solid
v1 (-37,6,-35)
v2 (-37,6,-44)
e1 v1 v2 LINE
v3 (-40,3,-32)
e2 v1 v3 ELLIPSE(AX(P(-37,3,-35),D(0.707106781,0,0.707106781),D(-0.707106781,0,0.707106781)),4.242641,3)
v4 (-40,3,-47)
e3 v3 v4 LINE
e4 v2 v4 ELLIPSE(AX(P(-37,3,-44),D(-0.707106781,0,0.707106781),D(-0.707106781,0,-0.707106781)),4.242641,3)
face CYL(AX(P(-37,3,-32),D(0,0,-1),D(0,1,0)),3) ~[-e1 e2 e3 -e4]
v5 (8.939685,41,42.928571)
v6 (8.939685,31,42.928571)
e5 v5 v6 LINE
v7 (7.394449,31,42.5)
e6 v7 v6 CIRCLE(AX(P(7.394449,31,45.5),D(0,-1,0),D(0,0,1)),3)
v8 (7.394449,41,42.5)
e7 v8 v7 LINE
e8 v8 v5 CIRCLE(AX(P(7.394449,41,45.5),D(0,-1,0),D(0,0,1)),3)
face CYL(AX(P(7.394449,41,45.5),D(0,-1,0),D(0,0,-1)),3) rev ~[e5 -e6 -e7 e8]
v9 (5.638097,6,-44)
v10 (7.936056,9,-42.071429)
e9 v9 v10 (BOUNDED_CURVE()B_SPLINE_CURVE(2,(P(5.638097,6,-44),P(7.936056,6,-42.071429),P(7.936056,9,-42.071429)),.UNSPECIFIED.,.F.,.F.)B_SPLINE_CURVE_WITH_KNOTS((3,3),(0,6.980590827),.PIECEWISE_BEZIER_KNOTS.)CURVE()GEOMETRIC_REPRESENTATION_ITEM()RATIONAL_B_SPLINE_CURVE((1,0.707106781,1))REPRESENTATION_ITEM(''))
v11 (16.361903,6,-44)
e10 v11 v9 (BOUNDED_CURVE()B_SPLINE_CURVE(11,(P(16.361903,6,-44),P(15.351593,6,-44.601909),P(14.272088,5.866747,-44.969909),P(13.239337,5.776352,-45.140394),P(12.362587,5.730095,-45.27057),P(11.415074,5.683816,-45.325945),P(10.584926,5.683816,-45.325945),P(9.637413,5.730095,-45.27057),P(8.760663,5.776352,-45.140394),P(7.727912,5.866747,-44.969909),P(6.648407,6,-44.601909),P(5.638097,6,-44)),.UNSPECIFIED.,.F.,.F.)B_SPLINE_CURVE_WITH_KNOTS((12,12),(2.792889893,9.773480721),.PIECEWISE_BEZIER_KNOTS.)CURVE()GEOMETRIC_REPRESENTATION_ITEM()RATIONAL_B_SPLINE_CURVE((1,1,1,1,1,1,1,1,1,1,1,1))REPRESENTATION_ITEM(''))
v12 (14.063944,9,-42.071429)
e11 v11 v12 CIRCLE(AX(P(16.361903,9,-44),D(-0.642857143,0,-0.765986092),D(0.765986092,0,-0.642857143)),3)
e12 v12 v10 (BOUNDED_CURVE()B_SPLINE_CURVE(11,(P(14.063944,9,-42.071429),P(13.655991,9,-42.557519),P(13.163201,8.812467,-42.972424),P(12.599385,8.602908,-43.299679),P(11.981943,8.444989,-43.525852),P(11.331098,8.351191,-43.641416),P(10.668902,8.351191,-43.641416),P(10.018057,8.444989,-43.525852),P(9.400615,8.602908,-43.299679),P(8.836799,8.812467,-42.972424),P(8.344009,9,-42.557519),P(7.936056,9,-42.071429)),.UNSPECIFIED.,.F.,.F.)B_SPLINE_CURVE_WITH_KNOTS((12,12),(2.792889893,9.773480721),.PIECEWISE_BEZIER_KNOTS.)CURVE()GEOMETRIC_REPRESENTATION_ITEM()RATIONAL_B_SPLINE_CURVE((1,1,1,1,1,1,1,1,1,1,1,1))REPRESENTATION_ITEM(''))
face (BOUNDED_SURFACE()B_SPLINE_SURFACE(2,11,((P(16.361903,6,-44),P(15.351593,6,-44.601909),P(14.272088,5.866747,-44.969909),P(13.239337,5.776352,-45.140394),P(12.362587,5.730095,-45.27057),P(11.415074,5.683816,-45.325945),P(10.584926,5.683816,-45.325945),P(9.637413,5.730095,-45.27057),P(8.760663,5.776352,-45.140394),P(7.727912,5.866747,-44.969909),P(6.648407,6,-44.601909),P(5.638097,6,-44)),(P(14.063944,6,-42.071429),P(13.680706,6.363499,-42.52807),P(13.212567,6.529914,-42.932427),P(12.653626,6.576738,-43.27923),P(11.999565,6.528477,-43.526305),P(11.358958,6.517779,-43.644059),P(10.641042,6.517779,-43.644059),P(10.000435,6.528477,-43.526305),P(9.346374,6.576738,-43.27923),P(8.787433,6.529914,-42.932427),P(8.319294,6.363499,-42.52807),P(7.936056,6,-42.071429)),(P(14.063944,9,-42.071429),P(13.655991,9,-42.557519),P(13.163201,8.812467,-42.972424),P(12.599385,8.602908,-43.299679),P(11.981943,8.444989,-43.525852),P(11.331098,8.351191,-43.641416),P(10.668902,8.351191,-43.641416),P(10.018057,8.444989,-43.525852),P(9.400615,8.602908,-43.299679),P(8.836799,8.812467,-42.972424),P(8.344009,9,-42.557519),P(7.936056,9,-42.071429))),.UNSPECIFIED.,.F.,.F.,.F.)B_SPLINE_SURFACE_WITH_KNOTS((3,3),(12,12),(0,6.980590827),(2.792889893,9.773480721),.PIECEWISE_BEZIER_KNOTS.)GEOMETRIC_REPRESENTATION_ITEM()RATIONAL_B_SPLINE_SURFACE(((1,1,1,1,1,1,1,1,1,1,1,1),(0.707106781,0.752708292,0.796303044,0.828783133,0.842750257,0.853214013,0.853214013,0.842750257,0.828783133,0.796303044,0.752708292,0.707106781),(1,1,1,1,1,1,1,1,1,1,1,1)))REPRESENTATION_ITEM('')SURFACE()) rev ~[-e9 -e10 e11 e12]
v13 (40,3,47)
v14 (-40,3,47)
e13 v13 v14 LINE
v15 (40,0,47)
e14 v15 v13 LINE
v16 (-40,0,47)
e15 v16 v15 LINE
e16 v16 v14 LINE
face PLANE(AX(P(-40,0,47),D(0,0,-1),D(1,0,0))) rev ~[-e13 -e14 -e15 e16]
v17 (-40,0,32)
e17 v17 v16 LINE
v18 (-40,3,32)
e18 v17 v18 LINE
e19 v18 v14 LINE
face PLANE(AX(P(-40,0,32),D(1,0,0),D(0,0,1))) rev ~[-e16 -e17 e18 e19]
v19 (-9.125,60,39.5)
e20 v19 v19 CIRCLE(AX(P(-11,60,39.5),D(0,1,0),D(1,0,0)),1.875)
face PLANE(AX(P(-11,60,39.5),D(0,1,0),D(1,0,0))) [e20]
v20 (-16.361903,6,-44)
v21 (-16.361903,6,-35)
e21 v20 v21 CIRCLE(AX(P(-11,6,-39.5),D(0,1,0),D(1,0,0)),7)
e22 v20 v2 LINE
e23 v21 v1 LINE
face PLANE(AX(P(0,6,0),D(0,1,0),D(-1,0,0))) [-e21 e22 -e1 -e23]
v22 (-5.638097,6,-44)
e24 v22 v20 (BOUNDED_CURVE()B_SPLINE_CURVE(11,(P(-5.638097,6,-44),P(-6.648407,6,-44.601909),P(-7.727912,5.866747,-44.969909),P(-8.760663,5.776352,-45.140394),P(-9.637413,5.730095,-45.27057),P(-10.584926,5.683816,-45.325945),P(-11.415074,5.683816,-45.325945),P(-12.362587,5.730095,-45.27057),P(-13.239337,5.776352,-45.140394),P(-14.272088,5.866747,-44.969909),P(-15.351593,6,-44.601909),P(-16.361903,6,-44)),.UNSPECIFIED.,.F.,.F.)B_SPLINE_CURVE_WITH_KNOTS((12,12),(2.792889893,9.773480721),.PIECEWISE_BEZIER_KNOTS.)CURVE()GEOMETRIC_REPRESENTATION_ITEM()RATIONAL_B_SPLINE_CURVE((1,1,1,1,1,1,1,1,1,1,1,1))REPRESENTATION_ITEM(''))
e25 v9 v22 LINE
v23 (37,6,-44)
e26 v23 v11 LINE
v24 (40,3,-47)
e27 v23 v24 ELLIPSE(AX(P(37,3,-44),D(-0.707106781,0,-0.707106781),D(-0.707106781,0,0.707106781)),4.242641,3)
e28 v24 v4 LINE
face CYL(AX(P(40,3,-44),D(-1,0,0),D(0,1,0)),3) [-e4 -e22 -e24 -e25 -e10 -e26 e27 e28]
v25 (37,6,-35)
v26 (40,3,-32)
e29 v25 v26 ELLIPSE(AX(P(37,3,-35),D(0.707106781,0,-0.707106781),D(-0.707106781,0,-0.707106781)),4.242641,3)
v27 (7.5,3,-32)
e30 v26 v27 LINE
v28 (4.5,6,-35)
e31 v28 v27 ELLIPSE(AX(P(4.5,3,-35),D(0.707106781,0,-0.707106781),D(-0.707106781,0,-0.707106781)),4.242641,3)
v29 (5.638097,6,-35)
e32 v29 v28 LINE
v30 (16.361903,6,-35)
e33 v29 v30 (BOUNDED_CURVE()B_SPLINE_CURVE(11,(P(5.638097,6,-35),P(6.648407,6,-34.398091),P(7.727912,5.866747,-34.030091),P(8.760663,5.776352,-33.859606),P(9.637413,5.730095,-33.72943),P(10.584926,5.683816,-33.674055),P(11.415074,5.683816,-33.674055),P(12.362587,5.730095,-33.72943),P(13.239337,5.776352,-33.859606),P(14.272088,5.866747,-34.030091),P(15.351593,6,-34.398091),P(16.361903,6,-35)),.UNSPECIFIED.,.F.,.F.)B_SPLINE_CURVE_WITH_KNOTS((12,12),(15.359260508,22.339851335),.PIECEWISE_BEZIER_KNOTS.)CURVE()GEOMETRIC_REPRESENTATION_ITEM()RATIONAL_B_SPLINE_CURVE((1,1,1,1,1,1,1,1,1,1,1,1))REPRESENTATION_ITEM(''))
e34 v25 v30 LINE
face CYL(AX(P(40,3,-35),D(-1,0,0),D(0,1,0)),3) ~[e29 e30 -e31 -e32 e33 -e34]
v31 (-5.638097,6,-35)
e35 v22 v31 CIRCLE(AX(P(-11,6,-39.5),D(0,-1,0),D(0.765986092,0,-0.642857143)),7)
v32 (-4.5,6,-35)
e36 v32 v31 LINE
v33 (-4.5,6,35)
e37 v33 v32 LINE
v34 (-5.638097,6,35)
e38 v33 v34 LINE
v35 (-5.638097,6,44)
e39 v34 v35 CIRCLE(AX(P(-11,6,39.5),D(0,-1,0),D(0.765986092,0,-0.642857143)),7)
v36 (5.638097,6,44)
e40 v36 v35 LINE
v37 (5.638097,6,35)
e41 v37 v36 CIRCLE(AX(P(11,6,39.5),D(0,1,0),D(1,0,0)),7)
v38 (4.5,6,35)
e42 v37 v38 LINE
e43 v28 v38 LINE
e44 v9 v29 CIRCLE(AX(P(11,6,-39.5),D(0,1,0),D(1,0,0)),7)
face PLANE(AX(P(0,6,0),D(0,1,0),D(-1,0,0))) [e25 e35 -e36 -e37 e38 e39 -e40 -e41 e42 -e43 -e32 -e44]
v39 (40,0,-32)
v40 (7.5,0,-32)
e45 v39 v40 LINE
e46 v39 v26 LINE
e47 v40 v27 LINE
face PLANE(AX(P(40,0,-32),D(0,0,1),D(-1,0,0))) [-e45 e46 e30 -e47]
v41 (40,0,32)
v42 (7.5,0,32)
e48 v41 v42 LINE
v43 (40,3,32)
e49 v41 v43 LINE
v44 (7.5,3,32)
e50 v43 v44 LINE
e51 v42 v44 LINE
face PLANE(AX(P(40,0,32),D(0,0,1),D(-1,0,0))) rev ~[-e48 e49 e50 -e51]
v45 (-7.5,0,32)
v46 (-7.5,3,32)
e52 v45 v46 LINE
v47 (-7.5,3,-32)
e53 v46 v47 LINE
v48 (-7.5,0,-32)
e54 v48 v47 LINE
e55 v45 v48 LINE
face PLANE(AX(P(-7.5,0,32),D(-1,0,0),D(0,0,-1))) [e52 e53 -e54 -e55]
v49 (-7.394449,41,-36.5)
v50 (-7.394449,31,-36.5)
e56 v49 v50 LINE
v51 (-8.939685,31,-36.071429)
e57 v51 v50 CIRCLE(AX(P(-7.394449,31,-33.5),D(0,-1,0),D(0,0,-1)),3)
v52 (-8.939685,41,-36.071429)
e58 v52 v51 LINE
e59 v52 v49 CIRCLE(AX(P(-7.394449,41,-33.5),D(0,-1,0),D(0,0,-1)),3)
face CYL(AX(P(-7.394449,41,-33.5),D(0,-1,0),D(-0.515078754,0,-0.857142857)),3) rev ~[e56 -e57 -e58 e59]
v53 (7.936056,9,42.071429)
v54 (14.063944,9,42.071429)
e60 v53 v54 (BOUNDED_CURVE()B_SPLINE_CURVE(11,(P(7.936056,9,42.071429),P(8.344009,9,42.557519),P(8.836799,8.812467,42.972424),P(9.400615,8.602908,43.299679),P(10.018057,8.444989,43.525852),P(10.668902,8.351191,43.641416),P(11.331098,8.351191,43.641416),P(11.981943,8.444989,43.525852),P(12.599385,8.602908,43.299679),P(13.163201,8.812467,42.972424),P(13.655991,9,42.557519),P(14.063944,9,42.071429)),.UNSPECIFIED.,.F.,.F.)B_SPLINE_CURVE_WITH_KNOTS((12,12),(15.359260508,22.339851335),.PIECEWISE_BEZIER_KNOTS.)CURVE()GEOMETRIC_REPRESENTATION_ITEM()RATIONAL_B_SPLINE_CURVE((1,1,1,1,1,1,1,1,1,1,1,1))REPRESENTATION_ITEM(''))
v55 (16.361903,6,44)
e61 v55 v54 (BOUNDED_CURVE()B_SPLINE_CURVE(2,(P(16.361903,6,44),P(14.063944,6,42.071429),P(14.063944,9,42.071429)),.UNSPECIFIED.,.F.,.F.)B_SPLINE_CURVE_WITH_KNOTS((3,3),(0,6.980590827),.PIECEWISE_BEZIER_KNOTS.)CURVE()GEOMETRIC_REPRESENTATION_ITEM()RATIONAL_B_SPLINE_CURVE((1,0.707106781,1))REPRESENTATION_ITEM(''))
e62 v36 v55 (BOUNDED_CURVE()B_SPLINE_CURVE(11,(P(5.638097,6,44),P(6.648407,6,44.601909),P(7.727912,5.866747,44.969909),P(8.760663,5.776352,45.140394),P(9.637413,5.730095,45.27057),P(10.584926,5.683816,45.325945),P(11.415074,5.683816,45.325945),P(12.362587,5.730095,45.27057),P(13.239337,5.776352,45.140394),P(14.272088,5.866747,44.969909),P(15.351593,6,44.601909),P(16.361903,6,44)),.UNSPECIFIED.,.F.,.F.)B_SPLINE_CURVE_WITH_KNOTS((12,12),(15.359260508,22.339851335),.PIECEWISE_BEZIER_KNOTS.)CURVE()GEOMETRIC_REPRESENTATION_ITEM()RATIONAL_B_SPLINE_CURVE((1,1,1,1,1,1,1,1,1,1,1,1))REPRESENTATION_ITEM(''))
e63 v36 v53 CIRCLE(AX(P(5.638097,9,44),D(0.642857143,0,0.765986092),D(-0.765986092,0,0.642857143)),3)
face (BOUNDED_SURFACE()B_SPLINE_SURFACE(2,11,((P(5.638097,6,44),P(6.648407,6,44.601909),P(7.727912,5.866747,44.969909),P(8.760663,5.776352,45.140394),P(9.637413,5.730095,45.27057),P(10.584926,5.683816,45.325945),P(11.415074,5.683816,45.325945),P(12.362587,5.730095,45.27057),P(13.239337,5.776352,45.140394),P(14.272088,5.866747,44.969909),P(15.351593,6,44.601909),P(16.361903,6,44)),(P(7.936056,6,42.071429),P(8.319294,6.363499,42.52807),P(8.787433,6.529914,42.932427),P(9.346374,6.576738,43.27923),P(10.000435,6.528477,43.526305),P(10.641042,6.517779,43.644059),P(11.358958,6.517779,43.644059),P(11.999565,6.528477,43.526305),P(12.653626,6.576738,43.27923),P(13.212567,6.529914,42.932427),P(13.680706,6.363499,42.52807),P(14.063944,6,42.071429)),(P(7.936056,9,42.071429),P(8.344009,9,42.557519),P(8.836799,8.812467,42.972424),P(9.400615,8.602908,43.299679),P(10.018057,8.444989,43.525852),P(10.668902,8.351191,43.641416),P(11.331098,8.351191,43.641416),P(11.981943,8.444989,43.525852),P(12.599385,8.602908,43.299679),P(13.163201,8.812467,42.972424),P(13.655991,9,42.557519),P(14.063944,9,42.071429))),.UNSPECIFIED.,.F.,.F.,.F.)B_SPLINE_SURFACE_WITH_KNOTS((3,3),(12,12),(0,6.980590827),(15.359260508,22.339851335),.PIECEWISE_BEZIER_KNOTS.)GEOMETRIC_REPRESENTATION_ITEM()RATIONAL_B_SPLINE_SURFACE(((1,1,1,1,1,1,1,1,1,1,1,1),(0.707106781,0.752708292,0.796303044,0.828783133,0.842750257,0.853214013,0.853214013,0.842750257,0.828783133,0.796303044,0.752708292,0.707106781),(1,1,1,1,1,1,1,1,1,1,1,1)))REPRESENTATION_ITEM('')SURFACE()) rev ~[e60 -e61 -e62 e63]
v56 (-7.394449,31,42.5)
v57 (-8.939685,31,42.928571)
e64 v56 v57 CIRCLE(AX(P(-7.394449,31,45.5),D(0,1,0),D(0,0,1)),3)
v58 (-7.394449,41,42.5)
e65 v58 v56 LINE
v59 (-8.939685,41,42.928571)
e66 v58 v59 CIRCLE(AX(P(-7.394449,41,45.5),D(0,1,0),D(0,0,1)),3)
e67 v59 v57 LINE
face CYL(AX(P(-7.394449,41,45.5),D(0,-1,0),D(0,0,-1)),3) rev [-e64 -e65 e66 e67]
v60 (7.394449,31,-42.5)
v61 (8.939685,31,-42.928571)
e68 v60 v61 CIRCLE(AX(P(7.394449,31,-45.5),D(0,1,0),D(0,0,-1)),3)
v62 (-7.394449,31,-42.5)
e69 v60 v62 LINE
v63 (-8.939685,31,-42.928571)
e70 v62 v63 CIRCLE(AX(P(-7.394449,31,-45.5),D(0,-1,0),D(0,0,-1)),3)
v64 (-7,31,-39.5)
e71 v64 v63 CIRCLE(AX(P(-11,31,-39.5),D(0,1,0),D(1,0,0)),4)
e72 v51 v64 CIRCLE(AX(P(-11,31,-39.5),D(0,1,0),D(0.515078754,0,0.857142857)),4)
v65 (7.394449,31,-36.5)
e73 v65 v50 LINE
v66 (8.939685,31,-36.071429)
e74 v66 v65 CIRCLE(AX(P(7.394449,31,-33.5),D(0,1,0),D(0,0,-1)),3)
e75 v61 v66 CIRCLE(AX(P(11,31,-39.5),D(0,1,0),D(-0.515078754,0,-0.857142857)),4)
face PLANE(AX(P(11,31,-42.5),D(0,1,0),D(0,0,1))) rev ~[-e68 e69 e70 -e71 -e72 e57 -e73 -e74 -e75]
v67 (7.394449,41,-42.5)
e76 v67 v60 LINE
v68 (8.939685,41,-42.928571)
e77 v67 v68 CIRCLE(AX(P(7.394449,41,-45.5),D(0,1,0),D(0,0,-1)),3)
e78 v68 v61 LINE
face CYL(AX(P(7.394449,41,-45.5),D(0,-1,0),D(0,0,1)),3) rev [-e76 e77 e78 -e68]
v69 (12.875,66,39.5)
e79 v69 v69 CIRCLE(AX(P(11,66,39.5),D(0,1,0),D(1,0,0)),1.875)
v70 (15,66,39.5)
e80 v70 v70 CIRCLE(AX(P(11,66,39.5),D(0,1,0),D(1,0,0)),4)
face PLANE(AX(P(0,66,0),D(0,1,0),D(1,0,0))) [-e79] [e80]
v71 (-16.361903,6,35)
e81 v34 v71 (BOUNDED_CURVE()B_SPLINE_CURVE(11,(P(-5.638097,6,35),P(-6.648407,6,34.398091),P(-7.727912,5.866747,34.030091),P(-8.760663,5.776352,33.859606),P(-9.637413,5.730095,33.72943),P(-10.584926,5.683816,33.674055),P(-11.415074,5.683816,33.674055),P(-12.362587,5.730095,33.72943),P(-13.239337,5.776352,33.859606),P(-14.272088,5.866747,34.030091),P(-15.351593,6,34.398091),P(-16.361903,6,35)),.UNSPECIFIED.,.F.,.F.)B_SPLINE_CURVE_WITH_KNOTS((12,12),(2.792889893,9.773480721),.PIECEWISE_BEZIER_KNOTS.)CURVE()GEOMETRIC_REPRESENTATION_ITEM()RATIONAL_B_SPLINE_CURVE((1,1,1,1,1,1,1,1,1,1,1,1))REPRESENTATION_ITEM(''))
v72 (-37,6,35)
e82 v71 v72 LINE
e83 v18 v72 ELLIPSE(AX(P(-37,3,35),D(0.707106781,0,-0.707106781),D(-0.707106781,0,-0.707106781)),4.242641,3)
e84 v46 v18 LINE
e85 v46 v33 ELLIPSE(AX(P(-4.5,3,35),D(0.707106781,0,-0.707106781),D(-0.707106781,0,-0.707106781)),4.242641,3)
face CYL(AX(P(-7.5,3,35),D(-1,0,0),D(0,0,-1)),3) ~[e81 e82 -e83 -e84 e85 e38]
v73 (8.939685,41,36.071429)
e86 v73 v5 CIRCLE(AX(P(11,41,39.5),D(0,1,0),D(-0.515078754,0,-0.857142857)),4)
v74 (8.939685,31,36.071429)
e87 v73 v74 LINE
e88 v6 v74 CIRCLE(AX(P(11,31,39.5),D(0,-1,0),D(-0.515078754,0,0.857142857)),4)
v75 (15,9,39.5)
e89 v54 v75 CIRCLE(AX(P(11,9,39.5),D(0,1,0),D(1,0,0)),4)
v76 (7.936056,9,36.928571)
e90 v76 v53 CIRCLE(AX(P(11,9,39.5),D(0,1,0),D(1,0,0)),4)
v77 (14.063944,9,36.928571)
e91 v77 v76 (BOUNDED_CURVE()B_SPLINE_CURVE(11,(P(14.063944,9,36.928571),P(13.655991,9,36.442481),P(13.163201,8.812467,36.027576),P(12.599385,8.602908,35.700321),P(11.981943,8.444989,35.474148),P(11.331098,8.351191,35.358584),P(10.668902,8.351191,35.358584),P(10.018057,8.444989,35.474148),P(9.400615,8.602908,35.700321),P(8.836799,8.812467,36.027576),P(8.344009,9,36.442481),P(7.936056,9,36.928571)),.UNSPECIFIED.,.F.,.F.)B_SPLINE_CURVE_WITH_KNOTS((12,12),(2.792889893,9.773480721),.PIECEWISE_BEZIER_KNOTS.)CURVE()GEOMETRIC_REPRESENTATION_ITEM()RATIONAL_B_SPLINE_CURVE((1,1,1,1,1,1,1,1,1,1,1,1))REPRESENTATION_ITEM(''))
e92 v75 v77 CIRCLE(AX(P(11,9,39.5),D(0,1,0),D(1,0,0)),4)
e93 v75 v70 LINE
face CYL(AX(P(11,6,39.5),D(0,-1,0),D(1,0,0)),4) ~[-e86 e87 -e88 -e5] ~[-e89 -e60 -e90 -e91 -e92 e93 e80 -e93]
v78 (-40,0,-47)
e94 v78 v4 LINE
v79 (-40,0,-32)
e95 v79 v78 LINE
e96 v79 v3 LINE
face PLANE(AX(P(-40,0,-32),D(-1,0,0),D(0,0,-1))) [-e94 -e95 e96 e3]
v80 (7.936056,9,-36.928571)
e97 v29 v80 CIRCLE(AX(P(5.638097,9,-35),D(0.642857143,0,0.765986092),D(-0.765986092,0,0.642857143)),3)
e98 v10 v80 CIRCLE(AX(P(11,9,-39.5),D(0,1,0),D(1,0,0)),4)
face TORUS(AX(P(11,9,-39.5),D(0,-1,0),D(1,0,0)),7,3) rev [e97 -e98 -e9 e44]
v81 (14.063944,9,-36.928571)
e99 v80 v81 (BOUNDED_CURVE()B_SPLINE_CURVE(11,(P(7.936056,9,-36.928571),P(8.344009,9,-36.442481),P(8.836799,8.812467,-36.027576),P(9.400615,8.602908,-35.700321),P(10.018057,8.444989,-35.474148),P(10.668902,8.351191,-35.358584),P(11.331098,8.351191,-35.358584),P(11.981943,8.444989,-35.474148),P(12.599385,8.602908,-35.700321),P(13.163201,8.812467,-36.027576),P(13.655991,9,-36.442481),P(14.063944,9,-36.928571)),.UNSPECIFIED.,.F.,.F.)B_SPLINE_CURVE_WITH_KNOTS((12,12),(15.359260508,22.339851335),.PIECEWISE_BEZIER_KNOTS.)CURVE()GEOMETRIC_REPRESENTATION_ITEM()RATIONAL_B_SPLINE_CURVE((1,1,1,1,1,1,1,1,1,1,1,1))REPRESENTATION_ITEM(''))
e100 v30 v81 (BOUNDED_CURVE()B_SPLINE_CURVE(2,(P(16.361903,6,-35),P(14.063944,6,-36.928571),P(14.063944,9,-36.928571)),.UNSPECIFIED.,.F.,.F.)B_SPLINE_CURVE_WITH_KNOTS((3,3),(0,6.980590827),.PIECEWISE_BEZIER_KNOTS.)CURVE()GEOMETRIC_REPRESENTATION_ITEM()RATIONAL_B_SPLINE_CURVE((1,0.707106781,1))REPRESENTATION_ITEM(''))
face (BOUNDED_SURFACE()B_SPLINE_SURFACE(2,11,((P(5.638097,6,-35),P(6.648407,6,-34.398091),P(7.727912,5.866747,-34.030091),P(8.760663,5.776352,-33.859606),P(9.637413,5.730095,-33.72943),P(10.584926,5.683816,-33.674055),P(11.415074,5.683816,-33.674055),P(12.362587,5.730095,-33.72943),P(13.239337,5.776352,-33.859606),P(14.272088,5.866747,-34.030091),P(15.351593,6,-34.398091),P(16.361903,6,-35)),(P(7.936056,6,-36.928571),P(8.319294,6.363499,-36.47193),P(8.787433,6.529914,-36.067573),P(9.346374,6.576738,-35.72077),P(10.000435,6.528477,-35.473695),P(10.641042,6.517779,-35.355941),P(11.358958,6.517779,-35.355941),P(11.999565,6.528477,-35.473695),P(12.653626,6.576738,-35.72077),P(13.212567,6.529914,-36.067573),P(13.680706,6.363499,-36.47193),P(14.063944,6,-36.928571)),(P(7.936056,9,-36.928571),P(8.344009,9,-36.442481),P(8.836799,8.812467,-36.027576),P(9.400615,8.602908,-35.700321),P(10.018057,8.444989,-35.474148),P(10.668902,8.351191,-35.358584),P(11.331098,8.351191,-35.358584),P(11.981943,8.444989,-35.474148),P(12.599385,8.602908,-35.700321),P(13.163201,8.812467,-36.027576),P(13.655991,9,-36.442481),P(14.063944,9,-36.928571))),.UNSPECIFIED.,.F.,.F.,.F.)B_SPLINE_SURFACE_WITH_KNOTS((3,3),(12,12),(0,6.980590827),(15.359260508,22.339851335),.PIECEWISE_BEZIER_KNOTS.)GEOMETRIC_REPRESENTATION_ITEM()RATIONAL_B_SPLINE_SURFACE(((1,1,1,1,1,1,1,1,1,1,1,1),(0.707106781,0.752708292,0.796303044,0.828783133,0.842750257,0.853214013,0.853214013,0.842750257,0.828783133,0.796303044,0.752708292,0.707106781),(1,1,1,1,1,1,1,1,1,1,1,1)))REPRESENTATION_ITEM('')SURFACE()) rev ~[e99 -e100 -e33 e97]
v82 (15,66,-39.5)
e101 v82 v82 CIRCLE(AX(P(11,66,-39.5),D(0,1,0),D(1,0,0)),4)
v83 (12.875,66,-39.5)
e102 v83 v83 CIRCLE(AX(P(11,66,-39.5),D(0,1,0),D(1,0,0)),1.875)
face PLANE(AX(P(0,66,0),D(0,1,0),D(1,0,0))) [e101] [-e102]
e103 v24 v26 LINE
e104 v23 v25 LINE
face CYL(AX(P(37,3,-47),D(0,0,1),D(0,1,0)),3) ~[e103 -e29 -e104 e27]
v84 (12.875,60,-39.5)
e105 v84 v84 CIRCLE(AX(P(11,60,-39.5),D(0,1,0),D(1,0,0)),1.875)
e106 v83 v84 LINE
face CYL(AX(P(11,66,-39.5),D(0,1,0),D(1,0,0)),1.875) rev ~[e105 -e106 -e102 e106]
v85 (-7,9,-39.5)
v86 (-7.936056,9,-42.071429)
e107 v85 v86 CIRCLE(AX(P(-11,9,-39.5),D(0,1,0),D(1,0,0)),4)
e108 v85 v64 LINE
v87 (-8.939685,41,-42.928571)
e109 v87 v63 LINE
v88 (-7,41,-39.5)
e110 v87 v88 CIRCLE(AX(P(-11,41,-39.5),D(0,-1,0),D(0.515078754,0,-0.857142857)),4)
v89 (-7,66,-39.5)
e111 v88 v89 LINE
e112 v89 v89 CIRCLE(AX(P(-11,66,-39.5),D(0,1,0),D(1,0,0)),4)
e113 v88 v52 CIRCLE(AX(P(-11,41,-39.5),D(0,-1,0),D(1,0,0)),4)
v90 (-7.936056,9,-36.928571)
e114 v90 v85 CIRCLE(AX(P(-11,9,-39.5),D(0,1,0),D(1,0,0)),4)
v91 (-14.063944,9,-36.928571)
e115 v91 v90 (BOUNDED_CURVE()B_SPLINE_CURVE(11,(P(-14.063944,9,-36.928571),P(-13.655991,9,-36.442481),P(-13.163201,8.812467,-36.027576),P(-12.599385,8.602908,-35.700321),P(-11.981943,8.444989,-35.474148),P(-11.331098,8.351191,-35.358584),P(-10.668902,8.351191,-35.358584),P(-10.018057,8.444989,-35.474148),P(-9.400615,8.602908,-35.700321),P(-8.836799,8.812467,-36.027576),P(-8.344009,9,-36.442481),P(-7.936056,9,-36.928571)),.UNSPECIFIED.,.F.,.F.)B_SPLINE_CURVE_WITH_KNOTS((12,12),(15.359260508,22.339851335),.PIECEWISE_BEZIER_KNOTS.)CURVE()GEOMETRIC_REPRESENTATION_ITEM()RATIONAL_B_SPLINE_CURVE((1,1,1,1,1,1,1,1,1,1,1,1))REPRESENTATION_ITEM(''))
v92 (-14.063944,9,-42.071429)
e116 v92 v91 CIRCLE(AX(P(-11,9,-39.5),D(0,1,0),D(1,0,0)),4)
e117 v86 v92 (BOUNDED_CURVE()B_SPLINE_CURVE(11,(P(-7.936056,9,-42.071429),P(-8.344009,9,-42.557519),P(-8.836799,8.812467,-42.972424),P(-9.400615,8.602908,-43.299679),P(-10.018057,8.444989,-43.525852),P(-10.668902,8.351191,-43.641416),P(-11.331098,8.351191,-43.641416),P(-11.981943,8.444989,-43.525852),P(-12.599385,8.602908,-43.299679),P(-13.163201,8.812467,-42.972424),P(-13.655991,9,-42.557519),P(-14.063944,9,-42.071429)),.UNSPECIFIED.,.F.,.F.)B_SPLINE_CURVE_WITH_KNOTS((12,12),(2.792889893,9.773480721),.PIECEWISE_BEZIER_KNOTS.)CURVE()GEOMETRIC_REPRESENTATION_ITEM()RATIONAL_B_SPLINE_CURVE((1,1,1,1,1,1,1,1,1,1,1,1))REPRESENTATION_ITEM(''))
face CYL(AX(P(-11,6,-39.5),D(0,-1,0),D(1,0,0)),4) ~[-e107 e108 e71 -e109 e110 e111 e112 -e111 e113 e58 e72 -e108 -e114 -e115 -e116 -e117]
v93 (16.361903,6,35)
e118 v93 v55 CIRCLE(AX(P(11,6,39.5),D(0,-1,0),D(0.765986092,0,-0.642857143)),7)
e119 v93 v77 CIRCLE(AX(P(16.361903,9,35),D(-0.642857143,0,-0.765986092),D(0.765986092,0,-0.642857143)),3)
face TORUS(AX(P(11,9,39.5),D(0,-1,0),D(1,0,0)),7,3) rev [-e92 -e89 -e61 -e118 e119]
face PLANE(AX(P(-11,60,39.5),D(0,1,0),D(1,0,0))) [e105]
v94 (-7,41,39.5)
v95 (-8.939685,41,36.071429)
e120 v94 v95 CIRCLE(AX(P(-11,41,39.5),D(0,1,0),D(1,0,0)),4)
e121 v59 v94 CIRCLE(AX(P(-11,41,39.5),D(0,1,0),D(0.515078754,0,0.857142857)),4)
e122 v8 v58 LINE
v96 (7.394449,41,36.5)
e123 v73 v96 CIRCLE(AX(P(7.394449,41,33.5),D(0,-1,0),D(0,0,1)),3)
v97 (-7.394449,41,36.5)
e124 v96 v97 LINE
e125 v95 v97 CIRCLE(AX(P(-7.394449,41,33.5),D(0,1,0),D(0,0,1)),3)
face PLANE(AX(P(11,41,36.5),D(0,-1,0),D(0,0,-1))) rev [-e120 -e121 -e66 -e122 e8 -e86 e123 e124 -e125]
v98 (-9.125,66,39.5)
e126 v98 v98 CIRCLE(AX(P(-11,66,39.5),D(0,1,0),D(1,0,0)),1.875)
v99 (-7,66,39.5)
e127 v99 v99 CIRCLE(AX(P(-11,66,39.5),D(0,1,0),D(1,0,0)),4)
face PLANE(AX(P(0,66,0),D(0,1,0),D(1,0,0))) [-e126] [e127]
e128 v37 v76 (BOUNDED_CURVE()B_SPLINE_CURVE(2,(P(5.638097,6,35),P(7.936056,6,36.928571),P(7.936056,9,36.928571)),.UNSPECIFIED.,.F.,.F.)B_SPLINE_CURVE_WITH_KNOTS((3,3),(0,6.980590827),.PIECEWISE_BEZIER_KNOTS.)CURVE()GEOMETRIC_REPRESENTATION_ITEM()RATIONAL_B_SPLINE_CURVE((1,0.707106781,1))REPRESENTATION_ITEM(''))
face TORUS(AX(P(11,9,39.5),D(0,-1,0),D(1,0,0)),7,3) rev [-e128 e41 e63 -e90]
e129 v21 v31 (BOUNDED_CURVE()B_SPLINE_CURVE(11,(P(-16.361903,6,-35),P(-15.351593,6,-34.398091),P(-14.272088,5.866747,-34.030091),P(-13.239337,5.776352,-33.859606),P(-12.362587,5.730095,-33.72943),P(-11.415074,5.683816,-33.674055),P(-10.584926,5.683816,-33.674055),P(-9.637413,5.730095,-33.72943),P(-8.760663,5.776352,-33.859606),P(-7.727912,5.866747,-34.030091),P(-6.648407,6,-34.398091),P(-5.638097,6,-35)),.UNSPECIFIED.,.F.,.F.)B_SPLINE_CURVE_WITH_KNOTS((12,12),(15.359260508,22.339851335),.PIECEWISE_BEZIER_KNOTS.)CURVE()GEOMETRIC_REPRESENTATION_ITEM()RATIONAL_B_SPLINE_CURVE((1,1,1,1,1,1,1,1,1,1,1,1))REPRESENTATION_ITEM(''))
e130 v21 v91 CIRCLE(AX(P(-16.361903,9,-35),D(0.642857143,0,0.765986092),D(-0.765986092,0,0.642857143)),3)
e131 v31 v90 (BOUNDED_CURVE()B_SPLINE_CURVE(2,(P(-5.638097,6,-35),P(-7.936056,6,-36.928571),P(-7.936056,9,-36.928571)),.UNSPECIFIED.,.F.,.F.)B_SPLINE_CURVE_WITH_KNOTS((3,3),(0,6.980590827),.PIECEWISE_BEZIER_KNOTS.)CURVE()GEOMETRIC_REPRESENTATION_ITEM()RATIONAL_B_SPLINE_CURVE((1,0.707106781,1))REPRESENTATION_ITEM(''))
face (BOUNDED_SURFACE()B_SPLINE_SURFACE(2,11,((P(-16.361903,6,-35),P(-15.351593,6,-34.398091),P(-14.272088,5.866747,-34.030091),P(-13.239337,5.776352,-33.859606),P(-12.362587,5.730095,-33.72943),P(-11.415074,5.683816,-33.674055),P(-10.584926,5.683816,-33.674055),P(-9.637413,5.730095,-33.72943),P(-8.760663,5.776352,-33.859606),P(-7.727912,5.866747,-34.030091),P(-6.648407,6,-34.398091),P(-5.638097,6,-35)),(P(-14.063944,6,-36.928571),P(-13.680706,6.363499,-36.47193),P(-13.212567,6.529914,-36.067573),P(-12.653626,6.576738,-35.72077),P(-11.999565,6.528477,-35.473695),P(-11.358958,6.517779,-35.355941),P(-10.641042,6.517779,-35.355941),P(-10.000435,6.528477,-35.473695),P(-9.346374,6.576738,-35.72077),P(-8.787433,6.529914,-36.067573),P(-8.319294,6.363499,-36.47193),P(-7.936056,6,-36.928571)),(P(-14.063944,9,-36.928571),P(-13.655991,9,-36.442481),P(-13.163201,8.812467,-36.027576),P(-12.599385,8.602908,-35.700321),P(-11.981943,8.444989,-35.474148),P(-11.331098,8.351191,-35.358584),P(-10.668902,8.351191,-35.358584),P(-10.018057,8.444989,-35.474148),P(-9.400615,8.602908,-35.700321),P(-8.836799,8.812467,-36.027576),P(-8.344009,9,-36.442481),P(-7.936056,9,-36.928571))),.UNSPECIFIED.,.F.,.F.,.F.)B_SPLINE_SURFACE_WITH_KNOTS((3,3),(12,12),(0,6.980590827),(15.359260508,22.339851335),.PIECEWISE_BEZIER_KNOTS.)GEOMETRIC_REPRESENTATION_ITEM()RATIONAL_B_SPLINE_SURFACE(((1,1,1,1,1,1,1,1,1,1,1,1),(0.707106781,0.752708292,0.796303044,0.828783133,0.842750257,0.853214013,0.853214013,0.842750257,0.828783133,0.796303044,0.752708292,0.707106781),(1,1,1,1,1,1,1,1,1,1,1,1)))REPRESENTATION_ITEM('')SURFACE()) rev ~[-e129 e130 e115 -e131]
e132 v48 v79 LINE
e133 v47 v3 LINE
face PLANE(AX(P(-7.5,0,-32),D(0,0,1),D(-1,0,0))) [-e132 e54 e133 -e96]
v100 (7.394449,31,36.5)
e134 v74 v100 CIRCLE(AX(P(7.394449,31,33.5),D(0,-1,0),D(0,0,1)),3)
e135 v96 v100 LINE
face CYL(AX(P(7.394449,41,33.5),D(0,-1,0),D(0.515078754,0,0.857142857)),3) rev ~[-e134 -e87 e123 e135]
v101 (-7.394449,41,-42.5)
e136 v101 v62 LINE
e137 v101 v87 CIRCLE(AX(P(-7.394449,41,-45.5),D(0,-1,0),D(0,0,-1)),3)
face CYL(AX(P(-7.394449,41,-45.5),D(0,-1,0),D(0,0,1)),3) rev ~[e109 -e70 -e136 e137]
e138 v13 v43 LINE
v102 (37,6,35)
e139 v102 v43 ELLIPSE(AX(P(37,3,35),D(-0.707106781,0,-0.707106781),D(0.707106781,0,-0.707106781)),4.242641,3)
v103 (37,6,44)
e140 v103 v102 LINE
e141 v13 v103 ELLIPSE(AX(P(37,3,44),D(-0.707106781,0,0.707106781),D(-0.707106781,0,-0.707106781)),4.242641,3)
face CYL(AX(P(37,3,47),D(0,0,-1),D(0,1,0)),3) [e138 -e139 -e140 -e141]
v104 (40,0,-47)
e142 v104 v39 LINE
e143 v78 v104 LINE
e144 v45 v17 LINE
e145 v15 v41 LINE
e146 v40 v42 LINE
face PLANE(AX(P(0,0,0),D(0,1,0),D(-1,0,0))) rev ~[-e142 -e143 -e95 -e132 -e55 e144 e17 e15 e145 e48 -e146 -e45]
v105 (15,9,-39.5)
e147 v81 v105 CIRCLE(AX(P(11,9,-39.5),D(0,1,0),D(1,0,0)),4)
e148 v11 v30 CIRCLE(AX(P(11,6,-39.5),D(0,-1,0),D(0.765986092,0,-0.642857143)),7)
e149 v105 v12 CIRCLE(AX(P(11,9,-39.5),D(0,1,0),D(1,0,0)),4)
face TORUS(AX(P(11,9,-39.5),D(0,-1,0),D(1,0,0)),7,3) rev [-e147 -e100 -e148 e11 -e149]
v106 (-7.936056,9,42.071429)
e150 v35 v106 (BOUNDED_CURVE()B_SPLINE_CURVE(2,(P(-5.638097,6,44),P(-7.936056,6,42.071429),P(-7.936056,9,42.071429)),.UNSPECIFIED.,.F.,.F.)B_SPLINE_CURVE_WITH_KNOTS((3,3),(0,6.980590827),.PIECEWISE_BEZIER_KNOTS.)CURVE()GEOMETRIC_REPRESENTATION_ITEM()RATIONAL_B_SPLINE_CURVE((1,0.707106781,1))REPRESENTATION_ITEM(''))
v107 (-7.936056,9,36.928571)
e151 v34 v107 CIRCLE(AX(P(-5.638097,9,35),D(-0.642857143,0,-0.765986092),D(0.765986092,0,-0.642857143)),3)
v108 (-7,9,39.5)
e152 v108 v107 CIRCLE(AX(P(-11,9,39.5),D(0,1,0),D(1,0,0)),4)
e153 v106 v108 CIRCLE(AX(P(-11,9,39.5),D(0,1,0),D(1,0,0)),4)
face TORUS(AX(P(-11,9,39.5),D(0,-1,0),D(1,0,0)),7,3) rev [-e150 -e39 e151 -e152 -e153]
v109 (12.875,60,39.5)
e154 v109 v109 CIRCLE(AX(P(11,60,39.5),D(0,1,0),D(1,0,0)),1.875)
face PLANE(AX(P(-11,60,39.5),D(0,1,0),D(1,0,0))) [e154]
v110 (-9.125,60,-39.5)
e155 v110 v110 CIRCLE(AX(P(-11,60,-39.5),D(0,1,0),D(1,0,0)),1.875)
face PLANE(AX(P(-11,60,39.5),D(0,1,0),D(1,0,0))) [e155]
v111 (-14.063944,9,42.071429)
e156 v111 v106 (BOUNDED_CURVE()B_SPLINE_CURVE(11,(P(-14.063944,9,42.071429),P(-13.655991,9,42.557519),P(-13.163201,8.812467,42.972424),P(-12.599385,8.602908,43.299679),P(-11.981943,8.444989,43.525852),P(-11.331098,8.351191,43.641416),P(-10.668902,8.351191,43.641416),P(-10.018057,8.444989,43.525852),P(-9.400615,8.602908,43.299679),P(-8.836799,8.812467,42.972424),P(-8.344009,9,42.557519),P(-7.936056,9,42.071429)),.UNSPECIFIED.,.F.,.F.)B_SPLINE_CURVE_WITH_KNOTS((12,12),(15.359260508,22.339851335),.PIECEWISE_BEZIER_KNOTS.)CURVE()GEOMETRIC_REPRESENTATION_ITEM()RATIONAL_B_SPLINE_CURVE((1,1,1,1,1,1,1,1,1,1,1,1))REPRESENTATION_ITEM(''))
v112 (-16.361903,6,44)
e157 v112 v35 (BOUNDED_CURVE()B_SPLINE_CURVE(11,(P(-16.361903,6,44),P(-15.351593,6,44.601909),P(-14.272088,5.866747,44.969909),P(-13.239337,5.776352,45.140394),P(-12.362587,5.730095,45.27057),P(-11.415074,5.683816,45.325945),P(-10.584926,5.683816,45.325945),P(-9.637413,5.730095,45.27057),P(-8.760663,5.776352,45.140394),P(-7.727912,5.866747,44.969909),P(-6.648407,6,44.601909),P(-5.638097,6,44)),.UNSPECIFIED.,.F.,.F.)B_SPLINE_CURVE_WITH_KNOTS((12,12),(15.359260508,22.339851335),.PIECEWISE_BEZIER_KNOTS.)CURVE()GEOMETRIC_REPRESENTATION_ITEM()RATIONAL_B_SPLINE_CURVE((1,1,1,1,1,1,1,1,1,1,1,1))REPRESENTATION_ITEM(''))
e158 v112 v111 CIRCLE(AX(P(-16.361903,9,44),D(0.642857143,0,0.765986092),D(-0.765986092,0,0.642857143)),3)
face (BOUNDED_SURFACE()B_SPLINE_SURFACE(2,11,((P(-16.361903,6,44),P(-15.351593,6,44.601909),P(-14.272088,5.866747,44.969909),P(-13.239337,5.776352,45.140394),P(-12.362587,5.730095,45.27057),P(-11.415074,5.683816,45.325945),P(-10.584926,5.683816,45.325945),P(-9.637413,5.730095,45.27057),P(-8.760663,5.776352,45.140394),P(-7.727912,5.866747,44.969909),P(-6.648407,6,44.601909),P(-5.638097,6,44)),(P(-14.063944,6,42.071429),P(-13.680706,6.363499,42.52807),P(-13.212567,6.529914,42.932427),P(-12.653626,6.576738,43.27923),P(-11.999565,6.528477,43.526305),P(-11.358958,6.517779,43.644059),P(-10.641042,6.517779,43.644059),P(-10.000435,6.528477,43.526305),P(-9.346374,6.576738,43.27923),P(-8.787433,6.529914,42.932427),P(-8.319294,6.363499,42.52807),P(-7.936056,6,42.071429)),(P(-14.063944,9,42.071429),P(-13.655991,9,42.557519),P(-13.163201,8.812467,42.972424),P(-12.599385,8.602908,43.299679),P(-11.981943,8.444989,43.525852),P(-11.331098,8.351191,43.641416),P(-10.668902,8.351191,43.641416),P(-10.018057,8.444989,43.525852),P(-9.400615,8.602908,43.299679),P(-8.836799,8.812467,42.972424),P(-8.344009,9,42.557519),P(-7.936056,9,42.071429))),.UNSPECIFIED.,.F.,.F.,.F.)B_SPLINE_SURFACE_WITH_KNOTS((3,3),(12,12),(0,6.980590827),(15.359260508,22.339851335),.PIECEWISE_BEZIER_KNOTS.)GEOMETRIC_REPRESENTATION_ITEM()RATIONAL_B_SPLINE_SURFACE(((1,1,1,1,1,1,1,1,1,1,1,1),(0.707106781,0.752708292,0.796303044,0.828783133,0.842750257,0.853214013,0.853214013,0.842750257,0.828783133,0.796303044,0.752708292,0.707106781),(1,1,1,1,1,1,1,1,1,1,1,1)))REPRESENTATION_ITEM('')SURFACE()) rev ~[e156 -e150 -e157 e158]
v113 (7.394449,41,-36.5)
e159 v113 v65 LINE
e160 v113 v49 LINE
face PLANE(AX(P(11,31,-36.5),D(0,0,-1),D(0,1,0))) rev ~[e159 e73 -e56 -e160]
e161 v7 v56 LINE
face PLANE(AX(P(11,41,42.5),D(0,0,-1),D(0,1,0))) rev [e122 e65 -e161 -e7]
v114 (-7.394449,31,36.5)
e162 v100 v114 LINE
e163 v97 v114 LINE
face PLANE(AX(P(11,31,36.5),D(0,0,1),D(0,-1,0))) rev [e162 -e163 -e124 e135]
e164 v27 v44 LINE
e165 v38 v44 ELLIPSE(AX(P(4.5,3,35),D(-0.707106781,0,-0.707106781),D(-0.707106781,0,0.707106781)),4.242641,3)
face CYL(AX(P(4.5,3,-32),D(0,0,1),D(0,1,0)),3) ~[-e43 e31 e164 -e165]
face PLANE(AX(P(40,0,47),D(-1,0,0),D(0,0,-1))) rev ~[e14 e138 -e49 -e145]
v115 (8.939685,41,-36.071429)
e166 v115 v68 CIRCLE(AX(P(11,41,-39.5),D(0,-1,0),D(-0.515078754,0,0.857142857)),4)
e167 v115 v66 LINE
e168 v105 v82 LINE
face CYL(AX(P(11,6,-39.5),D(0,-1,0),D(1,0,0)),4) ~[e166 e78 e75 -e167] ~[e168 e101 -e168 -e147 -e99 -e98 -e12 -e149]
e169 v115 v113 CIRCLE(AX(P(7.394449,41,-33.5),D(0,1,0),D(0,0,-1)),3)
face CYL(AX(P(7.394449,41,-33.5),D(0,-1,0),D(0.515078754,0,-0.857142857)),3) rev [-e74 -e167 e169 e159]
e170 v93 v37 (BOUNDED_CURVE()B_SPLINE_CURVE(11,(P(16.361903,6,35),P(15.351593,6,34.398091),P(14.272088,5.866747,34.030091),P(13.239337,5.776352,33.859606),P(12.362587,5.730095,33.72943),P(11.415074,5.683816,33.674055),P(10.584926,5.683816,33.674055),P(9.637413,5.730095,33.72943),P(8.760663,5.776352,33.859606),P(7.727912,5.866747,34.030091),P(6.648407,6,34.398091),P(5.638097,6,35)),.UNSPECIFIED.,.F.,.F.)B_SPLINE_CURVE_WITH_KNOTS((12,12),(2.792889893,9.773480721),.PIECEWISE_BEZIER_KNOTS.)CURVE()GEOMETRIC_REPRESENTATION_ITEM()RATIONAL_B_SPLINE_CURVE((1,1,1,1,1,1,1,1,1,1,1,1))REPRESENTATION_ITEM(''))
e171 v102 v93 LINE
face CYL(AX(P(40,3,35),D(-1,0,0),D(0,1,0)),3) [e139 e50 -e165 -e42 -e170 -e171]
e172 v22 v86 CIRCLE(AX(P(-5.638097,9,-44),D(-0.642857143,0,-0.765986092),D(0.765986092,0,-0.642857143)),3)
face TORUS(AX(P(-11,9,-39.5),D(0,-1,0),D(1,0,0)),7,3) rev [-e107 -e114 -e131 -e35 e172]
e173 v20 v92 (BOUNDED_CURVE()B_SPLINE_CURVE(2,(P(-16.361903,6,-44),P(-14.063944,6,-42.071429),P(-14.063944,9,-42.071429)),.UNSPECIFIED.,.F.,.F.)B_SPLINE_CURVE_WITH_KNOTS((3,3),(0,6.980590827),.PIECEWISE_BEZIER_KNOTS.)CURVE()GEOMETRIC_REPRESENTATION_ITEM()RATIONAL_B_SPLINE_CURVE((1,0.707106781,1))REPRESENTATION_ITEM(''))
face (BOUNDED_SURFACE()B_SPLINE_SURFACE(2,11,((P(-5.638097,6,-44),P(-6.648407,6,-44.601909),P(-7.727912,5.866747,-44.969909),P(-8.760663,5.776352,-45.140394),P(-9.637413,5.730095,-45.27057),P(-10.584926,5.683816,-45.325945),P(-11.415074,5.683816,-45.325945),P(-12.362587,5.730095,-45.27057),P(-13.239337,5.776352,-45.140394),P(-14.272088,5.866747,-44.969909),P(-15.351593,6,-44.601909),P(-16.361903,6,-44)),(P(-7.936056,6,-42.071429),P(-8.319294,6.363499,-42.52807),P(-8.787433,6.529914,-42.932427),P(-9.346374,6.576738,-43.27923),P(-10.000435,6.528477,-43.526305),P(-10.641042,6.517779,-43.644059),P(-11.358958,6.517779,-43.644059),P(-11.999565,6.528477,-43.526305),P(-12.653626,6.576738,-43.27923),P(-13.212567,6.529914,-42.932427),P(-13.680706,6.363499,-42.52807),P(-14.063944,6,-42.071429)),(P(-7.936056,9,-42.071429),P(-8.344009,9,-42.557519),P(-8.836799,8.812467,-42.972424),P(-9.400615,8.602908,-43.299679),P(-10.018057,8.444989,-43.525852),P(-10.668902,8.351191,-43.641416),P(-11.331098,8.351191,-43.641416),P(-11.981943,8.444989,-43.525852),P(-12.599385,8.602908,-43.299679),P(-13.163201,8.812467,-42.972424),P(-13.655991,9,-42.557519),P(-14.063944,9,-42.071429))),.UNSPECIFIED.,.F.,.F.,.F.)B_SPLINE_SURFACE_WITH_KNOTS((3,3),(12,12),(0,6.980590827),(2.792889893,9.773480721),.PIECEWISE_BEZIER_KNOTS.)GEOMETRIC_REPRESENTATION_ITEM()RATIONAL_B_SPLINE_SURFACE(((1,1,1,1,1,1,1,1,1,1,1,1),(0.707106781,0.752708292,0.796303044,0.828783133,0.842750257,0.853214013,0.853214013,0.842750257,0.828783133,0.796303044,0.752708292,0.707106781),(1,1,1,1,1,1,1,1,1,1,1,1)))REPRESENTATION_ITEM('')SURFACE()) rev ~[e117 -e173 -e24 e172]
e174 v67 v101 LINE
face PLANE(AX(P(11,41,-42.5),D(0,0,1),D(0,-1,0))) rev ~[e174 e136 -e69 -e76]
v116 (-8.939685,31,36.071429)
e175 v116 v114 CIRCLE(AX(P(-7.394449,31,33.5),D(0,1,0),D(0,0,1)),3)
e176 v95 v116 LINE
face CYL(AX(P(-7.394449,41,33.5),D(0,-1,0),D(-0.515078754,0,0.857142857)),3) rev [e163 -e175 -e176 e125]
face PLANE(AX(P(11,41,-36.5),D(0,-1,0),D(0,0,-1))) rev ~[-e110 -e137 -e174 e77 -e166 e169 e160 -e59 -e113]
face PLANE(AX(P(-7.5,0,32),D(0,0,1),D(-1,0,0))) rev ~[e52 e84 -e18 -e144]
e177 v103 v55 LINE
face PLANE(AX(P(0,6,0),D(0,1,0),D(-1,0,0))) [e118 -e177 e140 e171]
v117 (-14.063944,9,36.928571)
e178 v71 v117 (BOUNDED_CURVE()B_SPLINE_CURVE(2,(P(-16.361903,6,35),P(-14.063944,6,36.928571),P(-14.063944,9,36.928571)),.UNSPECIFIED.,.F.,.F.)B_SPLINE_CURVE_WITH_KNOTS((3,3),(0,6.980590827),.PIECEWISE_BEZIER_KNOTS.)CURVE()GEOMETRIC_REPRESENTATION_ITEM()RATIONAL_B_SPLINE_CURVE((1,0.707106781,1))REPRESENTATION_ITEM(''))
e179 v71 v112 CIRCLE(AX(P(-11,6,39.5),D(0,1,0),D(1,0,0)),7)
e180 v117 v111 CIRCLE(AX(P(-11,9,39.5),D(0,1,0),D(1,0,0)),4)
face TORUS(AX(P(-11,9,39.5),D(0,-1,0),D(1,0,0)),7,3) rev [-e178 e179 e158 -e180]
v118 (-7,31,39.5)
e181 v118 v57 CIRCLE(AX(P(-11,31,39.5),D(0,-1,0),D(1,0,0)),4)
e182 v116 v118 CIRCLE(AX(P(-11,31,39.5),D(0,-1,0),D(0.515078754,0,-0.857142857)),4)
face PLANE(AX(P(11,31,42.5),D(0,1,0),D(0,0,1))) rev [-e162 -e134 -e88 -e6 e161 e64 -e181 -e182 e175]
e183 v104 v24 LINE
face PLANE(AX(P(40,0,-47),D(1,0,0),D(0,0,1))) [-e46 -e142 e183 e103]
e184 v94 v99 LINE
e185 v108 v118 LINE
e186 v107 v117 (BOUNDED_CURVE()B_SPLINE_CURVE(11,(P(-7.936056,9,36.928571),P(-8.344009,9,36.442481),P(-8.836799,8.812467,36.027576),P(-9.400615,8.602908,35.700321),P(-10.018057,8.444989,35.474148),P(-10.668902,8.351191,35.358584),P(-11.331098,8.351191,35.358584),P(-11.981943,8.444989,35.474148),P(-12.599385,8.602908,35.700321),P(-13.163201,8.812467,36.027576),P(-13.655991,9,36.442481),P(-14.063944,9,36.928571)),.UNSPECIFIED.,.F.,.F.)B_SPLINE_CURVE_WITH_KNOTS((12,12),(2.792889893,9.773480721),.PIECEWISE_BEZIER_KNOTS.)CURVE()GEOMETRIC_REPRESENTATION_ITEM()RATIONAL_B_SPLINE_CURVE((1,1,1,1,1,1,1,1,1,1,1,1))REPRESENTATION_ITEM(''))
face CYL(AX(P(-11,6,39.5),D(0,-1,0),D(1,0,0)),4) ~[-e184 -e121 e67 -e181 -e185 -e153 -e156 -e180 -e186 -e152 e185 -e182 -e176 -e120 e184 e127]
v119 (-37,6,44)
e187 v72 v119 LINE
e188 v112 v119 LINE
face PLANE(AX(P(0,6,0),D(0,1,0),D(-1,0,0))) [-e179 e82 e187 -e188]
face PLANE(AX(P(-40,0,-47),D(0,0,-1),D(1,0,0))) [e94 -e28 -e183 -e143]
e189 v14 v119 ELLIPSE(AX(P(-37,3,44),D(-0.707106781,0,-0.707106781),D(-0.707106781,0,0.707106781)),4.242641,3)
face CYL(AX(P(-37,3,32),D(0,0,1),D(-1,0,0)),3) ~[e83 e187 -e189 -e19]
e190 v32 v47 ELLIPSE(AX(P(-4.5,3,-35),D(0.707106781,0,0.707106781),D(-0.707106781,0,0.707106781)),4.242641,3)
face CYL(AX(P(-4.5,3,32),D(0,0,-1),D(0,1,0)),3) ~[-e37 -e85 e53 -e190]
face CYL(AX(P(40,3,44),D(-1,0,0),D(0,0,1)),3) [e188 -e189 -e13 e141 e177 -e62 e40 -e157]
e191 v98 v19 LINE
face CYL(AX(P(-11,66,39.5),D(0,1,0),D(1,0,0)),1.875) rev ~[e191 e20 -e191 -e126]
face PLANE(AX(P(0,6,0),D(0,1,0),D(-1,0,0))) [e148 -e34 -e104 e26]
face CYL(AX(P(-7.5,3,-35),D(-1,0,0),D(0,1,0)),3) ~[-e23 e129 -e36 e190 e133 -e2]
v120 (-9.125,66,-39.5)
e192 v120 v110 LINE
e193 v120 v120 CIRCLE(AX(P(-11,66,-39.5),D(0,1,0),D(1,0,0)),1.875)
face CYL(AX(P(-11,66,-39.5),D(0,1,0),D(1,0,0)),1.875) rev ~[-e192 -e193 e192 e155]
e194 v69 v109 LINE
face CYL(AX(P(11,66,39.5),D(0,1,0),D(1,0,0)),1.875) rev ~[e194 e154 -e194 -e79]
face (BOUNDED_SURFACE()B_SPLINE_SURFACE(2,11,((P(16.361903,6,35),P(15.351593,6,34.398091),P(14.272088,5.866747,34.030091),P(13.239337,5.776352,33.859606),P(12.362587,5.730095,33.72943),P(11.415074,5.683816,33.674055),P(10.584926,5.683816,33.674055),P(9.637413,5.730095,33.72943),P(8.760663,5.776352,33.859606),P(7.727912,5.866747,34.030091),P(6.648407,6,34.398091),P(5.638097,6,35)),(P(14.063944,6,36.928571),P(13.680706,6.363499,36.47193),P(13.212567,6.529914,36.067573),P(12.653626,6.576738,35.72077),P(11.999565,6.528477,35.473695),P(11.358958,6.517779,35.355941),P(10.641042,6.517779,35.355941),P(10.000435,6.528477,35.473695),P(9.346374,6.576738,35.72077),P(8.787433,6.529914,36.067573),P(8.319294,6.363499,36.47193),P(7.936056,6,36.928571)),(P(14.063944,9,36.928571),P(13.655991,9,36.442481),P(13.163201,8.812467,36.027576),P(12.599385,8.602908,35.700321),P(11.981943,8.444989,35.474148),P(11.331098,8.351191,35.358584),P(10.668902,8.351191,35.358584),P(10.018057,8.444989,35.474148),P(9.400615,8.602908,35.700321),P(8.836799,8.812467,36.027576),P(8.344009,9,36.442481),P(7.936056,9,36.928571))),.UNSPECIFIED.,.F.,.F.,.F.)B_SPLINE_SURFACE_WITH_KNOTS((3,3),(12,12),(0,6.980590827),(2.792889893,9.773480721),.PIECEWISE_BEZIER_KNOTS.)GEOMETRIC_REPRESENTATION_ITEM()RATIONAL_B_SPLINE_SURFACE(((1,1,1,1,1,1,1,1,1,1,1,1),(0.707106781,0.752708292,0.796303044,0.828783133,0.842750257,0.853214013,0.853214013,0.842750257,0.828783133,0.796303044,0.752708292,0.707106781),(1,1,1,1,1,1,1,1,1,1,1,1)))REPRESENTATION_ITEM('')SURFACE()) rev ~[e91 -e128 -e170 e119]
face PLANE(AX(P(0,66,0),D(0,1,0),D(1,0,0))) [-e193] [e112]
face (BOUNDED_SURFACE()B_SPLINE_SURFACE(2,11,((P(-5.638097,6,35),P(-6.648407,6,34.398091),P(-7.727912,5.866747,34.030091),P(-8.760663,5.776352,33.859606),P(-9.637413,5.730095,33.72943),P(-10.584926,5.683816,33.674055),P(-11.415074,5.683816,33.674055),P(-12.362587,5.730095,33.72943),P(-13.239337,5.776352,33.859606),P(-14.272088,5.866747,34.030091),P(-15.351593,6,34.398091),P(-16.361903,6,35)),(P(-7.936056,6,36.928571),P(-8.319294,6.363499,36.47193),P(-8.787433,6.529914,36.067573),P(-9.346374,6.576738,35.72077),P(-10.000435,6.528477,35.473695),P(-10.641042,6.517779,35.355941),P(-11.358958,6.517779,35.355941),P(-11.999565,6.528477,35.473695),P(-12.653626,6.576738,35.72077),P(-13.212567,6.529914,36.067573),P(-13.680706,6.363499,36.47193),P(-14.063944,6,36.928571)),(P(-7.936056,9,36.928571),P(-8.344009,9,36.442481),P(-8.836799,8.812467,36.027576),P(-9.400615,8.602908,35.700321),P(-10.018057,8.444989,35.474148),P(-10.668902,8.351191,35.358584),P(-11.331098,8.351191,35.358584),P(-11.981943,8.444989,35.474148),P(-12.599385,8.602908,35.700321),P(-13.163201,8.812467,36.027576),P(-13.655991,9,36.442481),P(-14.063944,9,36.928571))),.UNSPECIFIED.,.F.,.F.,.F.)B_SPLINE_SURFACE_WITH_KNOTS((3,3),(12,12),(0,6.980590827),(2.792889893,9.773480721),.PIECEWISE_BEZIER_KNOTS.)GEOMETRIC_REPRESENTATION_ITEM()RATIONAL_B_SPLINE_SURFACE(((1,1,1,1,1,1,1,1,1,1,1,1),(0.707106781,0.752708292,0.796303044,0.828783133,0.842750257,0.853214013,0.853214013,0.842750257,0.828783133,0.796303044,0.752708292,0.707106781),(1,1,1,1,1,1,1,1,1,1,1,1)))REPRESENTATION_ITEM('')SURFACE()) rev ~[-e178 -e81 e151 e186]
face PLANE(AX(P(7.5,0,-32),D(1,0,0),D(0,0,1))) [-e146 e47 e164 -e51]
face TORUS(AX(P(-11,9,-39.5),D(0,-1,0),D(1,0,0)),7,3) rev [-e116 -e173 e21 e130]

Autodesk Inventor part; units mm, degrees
ref_plane "XZ Plane" through (0, 0, 0) normal (0, 1, 0) x (-1, 0, 0)
ref_plane "XY Plane" through (0, 0, 0) normal (0, 0, 1) x (1, 0, 0)
sketch "Sketch1" plane through (0, 0, 0) normal (0, 1, 0) x (-1, 0, 0)
  line L0 (40, 47) -> (-40, 47)
  line L1 (-40, 47) -> (-40, 32)
  line L2 (-40, 32) -> (40, 32)
  line L3 (40, 32) -> (40, 47)
  line L4 (40, 39.5) -> (-40, 39.5) construction
  line L5 (0, -65.8) -> (0, 65.8) projected
  line L6 (75.7321, 0) -> (-79.5679, 0) construction
  line L7 (40, -47) -> (-40, -47)
  line L8 (-40, -47) -> (-40, -32)
  line L9 (-40, -32) -> (40, -32)
  line L10 (40, -32) -> (40, -47)
  line L11 (40, -39.5) -> (-40, -39.5) construction
  line L12 (0, 32) -> (7.5, 32)
  line L13 (7.5, 32) -> (7.5, -32)
  line L14 (0, -32) -> (-7.5, -32)
  line L15 (-7.5, -32) -> (-7.5, 32)
  point P0 (0, 0)
  dimension "d0" = 80
  dimension "d1" = 15
  dimension "d12" = 39.5
  dimension "d13" = 79
  dimension "d14" = 7.5
  dimension "d15" = 7.5
extrude "Extrusion1" add sketch "Sketch1" along normal blind 6
fillet "Fillet1" radius 3 12 edges at (0, 6, 47) (40, 6, 39.5) (-23.75, 6, 32) (23.75, 6, 32) (-40, 6, 39.5) (23.75, 6, -32) (-23.75, 6, -32) (40, 6, -39.5) (0, 6, -47) (-40, 6, -39.5) (7.5, 6, 0) (-7.5, 6, 0)
sketch "Sketch2" plane through (0, 6, 0) normal (0, 1, 0) x (1, 0, 0)
  line L0 (-37, -35) -> (-4.5, -35) projected
  line L1 (-37, -44) -> (-37, -35) projected
  line L2 (37, -44) -> (-37, -44) projected
  line L3 (37, -35) -> (37, -44) projected
  line L4 (-37, -44) -> (-37, -35) construction
  line L5 (-37, -39.5) -> (37, -39.5) construction
  line L6 (37, -35) -> (37, -44) construction
  line L7 (-37, -35) -> (37, -35) construction
  line L8 (0, -35) -> (0, -44) construction
  circle A0 centre (-11, -39.5) radius 4
  circle A1 centre (11, -39.5) radius 4
  line L9 (0, 65.8) -> (0, -65.8) construction
  line L10 (4.5, -35) -> (37, -35) projected
  line L11 (37, 35) -> (4.5, 35) projected
  line L12 (37, 44) -> (37, 35) projected
  line L13 (-37, 44) -> (37, 44) projected
  line L14 (-37, 35) -> (-37, 44) projected
  line L15 (-4.5, 35) -> (-37, 35) projected
  line L16 (-4.5, -35) -> (-4.5, 35) projected
  line L17 (4.5, 35) -> (4.5, -35) projected
  line L18 (-56, 0) -> (56, 0) projected
  circle A2 centre (-11, 39.5) radius 4
  circle A3 centre (11, 39.5) radius 4
  point P0 (0, 0)
  dimension "d5" = 8
  dimension "d6" = 22
extrude "Extrusion2" add sketch "Sketch2" along normal blind 60 contours A0 | A1 | A2 | A3
fillet "Fillet2" radius 3 4 edges at (-15, 6, 39.5) (7, 6, 39.5) (7, 6, -39.5) (-15, 6, -39.5)
sketch "Sketch3" plane through (-11, 66, 39.5) normal (0, 1, 0) x (1, 0, 0)
  circle A0 centre (0, 0) radius 1.875
  circle A1 centre (22, 0) radius 4 projected
  circle A2 centre (22, 0) radius 1.875
  line L0 (-45, 39.5) -> (67, 39.5) projected
  circle A3 centre (0, 79) radius 1.875
  circle A4 centre (22, 79) radius 1.875
  point P0 (11, 39.5)
  dimension "d10" = 3.75
  dimension "d11" = 3.75
extrude "Extrusion3" cut sketch "Sketch3" against normal blind 6 contours A0 | A2 | A3 | A4
ref_plane "Work Plane1" through (11, 0, 0) normal (1, 0, 0) x (0, 1, 0)
sketch "Sketch4" plane through (11, 0, 0) normal (1, 0, 0) x (0, 1, 0)
  line L0 (41, -42.5) -> (31, -42.5)
  line L1 (31, -42.5) -> (31, -36.5)
  line L2 (31, -36.5) -> (41, -36.5)
  line L3 (41, -36.5) -> (41, -42.5)
  line L4 (120.1597, -39.5) -> (56.9301, -39.5) construction
  line L5 (6, 35) -> (6, -35) projected
  line L6 (8.4544, -35.5) -> (66, -35.5) projected
  line L7 (8.4544, -43.5) -> (66, -43.5) projected
  point P0 (0, 0)
  point P1 (31, -39.5)
  dimension "d19" = 6
  dimension "d20" = 10
  dimension "d21" = 25
  dimension "d23" = 1
extrude "Extrusion4" add sketch "Sketch4" against normal blind 22
fillet "Fillet3" radius 3 4 edges at (8.3542, 36, -42.5) (-8.3542, 36, -42.5) (-8.3542, 36, -36.5) (8.3542, 36, -36.5)
mirror "Mirror1" about plane through (0, 0, 0) normal (0, 0, 1)
properties part number "carrello"
